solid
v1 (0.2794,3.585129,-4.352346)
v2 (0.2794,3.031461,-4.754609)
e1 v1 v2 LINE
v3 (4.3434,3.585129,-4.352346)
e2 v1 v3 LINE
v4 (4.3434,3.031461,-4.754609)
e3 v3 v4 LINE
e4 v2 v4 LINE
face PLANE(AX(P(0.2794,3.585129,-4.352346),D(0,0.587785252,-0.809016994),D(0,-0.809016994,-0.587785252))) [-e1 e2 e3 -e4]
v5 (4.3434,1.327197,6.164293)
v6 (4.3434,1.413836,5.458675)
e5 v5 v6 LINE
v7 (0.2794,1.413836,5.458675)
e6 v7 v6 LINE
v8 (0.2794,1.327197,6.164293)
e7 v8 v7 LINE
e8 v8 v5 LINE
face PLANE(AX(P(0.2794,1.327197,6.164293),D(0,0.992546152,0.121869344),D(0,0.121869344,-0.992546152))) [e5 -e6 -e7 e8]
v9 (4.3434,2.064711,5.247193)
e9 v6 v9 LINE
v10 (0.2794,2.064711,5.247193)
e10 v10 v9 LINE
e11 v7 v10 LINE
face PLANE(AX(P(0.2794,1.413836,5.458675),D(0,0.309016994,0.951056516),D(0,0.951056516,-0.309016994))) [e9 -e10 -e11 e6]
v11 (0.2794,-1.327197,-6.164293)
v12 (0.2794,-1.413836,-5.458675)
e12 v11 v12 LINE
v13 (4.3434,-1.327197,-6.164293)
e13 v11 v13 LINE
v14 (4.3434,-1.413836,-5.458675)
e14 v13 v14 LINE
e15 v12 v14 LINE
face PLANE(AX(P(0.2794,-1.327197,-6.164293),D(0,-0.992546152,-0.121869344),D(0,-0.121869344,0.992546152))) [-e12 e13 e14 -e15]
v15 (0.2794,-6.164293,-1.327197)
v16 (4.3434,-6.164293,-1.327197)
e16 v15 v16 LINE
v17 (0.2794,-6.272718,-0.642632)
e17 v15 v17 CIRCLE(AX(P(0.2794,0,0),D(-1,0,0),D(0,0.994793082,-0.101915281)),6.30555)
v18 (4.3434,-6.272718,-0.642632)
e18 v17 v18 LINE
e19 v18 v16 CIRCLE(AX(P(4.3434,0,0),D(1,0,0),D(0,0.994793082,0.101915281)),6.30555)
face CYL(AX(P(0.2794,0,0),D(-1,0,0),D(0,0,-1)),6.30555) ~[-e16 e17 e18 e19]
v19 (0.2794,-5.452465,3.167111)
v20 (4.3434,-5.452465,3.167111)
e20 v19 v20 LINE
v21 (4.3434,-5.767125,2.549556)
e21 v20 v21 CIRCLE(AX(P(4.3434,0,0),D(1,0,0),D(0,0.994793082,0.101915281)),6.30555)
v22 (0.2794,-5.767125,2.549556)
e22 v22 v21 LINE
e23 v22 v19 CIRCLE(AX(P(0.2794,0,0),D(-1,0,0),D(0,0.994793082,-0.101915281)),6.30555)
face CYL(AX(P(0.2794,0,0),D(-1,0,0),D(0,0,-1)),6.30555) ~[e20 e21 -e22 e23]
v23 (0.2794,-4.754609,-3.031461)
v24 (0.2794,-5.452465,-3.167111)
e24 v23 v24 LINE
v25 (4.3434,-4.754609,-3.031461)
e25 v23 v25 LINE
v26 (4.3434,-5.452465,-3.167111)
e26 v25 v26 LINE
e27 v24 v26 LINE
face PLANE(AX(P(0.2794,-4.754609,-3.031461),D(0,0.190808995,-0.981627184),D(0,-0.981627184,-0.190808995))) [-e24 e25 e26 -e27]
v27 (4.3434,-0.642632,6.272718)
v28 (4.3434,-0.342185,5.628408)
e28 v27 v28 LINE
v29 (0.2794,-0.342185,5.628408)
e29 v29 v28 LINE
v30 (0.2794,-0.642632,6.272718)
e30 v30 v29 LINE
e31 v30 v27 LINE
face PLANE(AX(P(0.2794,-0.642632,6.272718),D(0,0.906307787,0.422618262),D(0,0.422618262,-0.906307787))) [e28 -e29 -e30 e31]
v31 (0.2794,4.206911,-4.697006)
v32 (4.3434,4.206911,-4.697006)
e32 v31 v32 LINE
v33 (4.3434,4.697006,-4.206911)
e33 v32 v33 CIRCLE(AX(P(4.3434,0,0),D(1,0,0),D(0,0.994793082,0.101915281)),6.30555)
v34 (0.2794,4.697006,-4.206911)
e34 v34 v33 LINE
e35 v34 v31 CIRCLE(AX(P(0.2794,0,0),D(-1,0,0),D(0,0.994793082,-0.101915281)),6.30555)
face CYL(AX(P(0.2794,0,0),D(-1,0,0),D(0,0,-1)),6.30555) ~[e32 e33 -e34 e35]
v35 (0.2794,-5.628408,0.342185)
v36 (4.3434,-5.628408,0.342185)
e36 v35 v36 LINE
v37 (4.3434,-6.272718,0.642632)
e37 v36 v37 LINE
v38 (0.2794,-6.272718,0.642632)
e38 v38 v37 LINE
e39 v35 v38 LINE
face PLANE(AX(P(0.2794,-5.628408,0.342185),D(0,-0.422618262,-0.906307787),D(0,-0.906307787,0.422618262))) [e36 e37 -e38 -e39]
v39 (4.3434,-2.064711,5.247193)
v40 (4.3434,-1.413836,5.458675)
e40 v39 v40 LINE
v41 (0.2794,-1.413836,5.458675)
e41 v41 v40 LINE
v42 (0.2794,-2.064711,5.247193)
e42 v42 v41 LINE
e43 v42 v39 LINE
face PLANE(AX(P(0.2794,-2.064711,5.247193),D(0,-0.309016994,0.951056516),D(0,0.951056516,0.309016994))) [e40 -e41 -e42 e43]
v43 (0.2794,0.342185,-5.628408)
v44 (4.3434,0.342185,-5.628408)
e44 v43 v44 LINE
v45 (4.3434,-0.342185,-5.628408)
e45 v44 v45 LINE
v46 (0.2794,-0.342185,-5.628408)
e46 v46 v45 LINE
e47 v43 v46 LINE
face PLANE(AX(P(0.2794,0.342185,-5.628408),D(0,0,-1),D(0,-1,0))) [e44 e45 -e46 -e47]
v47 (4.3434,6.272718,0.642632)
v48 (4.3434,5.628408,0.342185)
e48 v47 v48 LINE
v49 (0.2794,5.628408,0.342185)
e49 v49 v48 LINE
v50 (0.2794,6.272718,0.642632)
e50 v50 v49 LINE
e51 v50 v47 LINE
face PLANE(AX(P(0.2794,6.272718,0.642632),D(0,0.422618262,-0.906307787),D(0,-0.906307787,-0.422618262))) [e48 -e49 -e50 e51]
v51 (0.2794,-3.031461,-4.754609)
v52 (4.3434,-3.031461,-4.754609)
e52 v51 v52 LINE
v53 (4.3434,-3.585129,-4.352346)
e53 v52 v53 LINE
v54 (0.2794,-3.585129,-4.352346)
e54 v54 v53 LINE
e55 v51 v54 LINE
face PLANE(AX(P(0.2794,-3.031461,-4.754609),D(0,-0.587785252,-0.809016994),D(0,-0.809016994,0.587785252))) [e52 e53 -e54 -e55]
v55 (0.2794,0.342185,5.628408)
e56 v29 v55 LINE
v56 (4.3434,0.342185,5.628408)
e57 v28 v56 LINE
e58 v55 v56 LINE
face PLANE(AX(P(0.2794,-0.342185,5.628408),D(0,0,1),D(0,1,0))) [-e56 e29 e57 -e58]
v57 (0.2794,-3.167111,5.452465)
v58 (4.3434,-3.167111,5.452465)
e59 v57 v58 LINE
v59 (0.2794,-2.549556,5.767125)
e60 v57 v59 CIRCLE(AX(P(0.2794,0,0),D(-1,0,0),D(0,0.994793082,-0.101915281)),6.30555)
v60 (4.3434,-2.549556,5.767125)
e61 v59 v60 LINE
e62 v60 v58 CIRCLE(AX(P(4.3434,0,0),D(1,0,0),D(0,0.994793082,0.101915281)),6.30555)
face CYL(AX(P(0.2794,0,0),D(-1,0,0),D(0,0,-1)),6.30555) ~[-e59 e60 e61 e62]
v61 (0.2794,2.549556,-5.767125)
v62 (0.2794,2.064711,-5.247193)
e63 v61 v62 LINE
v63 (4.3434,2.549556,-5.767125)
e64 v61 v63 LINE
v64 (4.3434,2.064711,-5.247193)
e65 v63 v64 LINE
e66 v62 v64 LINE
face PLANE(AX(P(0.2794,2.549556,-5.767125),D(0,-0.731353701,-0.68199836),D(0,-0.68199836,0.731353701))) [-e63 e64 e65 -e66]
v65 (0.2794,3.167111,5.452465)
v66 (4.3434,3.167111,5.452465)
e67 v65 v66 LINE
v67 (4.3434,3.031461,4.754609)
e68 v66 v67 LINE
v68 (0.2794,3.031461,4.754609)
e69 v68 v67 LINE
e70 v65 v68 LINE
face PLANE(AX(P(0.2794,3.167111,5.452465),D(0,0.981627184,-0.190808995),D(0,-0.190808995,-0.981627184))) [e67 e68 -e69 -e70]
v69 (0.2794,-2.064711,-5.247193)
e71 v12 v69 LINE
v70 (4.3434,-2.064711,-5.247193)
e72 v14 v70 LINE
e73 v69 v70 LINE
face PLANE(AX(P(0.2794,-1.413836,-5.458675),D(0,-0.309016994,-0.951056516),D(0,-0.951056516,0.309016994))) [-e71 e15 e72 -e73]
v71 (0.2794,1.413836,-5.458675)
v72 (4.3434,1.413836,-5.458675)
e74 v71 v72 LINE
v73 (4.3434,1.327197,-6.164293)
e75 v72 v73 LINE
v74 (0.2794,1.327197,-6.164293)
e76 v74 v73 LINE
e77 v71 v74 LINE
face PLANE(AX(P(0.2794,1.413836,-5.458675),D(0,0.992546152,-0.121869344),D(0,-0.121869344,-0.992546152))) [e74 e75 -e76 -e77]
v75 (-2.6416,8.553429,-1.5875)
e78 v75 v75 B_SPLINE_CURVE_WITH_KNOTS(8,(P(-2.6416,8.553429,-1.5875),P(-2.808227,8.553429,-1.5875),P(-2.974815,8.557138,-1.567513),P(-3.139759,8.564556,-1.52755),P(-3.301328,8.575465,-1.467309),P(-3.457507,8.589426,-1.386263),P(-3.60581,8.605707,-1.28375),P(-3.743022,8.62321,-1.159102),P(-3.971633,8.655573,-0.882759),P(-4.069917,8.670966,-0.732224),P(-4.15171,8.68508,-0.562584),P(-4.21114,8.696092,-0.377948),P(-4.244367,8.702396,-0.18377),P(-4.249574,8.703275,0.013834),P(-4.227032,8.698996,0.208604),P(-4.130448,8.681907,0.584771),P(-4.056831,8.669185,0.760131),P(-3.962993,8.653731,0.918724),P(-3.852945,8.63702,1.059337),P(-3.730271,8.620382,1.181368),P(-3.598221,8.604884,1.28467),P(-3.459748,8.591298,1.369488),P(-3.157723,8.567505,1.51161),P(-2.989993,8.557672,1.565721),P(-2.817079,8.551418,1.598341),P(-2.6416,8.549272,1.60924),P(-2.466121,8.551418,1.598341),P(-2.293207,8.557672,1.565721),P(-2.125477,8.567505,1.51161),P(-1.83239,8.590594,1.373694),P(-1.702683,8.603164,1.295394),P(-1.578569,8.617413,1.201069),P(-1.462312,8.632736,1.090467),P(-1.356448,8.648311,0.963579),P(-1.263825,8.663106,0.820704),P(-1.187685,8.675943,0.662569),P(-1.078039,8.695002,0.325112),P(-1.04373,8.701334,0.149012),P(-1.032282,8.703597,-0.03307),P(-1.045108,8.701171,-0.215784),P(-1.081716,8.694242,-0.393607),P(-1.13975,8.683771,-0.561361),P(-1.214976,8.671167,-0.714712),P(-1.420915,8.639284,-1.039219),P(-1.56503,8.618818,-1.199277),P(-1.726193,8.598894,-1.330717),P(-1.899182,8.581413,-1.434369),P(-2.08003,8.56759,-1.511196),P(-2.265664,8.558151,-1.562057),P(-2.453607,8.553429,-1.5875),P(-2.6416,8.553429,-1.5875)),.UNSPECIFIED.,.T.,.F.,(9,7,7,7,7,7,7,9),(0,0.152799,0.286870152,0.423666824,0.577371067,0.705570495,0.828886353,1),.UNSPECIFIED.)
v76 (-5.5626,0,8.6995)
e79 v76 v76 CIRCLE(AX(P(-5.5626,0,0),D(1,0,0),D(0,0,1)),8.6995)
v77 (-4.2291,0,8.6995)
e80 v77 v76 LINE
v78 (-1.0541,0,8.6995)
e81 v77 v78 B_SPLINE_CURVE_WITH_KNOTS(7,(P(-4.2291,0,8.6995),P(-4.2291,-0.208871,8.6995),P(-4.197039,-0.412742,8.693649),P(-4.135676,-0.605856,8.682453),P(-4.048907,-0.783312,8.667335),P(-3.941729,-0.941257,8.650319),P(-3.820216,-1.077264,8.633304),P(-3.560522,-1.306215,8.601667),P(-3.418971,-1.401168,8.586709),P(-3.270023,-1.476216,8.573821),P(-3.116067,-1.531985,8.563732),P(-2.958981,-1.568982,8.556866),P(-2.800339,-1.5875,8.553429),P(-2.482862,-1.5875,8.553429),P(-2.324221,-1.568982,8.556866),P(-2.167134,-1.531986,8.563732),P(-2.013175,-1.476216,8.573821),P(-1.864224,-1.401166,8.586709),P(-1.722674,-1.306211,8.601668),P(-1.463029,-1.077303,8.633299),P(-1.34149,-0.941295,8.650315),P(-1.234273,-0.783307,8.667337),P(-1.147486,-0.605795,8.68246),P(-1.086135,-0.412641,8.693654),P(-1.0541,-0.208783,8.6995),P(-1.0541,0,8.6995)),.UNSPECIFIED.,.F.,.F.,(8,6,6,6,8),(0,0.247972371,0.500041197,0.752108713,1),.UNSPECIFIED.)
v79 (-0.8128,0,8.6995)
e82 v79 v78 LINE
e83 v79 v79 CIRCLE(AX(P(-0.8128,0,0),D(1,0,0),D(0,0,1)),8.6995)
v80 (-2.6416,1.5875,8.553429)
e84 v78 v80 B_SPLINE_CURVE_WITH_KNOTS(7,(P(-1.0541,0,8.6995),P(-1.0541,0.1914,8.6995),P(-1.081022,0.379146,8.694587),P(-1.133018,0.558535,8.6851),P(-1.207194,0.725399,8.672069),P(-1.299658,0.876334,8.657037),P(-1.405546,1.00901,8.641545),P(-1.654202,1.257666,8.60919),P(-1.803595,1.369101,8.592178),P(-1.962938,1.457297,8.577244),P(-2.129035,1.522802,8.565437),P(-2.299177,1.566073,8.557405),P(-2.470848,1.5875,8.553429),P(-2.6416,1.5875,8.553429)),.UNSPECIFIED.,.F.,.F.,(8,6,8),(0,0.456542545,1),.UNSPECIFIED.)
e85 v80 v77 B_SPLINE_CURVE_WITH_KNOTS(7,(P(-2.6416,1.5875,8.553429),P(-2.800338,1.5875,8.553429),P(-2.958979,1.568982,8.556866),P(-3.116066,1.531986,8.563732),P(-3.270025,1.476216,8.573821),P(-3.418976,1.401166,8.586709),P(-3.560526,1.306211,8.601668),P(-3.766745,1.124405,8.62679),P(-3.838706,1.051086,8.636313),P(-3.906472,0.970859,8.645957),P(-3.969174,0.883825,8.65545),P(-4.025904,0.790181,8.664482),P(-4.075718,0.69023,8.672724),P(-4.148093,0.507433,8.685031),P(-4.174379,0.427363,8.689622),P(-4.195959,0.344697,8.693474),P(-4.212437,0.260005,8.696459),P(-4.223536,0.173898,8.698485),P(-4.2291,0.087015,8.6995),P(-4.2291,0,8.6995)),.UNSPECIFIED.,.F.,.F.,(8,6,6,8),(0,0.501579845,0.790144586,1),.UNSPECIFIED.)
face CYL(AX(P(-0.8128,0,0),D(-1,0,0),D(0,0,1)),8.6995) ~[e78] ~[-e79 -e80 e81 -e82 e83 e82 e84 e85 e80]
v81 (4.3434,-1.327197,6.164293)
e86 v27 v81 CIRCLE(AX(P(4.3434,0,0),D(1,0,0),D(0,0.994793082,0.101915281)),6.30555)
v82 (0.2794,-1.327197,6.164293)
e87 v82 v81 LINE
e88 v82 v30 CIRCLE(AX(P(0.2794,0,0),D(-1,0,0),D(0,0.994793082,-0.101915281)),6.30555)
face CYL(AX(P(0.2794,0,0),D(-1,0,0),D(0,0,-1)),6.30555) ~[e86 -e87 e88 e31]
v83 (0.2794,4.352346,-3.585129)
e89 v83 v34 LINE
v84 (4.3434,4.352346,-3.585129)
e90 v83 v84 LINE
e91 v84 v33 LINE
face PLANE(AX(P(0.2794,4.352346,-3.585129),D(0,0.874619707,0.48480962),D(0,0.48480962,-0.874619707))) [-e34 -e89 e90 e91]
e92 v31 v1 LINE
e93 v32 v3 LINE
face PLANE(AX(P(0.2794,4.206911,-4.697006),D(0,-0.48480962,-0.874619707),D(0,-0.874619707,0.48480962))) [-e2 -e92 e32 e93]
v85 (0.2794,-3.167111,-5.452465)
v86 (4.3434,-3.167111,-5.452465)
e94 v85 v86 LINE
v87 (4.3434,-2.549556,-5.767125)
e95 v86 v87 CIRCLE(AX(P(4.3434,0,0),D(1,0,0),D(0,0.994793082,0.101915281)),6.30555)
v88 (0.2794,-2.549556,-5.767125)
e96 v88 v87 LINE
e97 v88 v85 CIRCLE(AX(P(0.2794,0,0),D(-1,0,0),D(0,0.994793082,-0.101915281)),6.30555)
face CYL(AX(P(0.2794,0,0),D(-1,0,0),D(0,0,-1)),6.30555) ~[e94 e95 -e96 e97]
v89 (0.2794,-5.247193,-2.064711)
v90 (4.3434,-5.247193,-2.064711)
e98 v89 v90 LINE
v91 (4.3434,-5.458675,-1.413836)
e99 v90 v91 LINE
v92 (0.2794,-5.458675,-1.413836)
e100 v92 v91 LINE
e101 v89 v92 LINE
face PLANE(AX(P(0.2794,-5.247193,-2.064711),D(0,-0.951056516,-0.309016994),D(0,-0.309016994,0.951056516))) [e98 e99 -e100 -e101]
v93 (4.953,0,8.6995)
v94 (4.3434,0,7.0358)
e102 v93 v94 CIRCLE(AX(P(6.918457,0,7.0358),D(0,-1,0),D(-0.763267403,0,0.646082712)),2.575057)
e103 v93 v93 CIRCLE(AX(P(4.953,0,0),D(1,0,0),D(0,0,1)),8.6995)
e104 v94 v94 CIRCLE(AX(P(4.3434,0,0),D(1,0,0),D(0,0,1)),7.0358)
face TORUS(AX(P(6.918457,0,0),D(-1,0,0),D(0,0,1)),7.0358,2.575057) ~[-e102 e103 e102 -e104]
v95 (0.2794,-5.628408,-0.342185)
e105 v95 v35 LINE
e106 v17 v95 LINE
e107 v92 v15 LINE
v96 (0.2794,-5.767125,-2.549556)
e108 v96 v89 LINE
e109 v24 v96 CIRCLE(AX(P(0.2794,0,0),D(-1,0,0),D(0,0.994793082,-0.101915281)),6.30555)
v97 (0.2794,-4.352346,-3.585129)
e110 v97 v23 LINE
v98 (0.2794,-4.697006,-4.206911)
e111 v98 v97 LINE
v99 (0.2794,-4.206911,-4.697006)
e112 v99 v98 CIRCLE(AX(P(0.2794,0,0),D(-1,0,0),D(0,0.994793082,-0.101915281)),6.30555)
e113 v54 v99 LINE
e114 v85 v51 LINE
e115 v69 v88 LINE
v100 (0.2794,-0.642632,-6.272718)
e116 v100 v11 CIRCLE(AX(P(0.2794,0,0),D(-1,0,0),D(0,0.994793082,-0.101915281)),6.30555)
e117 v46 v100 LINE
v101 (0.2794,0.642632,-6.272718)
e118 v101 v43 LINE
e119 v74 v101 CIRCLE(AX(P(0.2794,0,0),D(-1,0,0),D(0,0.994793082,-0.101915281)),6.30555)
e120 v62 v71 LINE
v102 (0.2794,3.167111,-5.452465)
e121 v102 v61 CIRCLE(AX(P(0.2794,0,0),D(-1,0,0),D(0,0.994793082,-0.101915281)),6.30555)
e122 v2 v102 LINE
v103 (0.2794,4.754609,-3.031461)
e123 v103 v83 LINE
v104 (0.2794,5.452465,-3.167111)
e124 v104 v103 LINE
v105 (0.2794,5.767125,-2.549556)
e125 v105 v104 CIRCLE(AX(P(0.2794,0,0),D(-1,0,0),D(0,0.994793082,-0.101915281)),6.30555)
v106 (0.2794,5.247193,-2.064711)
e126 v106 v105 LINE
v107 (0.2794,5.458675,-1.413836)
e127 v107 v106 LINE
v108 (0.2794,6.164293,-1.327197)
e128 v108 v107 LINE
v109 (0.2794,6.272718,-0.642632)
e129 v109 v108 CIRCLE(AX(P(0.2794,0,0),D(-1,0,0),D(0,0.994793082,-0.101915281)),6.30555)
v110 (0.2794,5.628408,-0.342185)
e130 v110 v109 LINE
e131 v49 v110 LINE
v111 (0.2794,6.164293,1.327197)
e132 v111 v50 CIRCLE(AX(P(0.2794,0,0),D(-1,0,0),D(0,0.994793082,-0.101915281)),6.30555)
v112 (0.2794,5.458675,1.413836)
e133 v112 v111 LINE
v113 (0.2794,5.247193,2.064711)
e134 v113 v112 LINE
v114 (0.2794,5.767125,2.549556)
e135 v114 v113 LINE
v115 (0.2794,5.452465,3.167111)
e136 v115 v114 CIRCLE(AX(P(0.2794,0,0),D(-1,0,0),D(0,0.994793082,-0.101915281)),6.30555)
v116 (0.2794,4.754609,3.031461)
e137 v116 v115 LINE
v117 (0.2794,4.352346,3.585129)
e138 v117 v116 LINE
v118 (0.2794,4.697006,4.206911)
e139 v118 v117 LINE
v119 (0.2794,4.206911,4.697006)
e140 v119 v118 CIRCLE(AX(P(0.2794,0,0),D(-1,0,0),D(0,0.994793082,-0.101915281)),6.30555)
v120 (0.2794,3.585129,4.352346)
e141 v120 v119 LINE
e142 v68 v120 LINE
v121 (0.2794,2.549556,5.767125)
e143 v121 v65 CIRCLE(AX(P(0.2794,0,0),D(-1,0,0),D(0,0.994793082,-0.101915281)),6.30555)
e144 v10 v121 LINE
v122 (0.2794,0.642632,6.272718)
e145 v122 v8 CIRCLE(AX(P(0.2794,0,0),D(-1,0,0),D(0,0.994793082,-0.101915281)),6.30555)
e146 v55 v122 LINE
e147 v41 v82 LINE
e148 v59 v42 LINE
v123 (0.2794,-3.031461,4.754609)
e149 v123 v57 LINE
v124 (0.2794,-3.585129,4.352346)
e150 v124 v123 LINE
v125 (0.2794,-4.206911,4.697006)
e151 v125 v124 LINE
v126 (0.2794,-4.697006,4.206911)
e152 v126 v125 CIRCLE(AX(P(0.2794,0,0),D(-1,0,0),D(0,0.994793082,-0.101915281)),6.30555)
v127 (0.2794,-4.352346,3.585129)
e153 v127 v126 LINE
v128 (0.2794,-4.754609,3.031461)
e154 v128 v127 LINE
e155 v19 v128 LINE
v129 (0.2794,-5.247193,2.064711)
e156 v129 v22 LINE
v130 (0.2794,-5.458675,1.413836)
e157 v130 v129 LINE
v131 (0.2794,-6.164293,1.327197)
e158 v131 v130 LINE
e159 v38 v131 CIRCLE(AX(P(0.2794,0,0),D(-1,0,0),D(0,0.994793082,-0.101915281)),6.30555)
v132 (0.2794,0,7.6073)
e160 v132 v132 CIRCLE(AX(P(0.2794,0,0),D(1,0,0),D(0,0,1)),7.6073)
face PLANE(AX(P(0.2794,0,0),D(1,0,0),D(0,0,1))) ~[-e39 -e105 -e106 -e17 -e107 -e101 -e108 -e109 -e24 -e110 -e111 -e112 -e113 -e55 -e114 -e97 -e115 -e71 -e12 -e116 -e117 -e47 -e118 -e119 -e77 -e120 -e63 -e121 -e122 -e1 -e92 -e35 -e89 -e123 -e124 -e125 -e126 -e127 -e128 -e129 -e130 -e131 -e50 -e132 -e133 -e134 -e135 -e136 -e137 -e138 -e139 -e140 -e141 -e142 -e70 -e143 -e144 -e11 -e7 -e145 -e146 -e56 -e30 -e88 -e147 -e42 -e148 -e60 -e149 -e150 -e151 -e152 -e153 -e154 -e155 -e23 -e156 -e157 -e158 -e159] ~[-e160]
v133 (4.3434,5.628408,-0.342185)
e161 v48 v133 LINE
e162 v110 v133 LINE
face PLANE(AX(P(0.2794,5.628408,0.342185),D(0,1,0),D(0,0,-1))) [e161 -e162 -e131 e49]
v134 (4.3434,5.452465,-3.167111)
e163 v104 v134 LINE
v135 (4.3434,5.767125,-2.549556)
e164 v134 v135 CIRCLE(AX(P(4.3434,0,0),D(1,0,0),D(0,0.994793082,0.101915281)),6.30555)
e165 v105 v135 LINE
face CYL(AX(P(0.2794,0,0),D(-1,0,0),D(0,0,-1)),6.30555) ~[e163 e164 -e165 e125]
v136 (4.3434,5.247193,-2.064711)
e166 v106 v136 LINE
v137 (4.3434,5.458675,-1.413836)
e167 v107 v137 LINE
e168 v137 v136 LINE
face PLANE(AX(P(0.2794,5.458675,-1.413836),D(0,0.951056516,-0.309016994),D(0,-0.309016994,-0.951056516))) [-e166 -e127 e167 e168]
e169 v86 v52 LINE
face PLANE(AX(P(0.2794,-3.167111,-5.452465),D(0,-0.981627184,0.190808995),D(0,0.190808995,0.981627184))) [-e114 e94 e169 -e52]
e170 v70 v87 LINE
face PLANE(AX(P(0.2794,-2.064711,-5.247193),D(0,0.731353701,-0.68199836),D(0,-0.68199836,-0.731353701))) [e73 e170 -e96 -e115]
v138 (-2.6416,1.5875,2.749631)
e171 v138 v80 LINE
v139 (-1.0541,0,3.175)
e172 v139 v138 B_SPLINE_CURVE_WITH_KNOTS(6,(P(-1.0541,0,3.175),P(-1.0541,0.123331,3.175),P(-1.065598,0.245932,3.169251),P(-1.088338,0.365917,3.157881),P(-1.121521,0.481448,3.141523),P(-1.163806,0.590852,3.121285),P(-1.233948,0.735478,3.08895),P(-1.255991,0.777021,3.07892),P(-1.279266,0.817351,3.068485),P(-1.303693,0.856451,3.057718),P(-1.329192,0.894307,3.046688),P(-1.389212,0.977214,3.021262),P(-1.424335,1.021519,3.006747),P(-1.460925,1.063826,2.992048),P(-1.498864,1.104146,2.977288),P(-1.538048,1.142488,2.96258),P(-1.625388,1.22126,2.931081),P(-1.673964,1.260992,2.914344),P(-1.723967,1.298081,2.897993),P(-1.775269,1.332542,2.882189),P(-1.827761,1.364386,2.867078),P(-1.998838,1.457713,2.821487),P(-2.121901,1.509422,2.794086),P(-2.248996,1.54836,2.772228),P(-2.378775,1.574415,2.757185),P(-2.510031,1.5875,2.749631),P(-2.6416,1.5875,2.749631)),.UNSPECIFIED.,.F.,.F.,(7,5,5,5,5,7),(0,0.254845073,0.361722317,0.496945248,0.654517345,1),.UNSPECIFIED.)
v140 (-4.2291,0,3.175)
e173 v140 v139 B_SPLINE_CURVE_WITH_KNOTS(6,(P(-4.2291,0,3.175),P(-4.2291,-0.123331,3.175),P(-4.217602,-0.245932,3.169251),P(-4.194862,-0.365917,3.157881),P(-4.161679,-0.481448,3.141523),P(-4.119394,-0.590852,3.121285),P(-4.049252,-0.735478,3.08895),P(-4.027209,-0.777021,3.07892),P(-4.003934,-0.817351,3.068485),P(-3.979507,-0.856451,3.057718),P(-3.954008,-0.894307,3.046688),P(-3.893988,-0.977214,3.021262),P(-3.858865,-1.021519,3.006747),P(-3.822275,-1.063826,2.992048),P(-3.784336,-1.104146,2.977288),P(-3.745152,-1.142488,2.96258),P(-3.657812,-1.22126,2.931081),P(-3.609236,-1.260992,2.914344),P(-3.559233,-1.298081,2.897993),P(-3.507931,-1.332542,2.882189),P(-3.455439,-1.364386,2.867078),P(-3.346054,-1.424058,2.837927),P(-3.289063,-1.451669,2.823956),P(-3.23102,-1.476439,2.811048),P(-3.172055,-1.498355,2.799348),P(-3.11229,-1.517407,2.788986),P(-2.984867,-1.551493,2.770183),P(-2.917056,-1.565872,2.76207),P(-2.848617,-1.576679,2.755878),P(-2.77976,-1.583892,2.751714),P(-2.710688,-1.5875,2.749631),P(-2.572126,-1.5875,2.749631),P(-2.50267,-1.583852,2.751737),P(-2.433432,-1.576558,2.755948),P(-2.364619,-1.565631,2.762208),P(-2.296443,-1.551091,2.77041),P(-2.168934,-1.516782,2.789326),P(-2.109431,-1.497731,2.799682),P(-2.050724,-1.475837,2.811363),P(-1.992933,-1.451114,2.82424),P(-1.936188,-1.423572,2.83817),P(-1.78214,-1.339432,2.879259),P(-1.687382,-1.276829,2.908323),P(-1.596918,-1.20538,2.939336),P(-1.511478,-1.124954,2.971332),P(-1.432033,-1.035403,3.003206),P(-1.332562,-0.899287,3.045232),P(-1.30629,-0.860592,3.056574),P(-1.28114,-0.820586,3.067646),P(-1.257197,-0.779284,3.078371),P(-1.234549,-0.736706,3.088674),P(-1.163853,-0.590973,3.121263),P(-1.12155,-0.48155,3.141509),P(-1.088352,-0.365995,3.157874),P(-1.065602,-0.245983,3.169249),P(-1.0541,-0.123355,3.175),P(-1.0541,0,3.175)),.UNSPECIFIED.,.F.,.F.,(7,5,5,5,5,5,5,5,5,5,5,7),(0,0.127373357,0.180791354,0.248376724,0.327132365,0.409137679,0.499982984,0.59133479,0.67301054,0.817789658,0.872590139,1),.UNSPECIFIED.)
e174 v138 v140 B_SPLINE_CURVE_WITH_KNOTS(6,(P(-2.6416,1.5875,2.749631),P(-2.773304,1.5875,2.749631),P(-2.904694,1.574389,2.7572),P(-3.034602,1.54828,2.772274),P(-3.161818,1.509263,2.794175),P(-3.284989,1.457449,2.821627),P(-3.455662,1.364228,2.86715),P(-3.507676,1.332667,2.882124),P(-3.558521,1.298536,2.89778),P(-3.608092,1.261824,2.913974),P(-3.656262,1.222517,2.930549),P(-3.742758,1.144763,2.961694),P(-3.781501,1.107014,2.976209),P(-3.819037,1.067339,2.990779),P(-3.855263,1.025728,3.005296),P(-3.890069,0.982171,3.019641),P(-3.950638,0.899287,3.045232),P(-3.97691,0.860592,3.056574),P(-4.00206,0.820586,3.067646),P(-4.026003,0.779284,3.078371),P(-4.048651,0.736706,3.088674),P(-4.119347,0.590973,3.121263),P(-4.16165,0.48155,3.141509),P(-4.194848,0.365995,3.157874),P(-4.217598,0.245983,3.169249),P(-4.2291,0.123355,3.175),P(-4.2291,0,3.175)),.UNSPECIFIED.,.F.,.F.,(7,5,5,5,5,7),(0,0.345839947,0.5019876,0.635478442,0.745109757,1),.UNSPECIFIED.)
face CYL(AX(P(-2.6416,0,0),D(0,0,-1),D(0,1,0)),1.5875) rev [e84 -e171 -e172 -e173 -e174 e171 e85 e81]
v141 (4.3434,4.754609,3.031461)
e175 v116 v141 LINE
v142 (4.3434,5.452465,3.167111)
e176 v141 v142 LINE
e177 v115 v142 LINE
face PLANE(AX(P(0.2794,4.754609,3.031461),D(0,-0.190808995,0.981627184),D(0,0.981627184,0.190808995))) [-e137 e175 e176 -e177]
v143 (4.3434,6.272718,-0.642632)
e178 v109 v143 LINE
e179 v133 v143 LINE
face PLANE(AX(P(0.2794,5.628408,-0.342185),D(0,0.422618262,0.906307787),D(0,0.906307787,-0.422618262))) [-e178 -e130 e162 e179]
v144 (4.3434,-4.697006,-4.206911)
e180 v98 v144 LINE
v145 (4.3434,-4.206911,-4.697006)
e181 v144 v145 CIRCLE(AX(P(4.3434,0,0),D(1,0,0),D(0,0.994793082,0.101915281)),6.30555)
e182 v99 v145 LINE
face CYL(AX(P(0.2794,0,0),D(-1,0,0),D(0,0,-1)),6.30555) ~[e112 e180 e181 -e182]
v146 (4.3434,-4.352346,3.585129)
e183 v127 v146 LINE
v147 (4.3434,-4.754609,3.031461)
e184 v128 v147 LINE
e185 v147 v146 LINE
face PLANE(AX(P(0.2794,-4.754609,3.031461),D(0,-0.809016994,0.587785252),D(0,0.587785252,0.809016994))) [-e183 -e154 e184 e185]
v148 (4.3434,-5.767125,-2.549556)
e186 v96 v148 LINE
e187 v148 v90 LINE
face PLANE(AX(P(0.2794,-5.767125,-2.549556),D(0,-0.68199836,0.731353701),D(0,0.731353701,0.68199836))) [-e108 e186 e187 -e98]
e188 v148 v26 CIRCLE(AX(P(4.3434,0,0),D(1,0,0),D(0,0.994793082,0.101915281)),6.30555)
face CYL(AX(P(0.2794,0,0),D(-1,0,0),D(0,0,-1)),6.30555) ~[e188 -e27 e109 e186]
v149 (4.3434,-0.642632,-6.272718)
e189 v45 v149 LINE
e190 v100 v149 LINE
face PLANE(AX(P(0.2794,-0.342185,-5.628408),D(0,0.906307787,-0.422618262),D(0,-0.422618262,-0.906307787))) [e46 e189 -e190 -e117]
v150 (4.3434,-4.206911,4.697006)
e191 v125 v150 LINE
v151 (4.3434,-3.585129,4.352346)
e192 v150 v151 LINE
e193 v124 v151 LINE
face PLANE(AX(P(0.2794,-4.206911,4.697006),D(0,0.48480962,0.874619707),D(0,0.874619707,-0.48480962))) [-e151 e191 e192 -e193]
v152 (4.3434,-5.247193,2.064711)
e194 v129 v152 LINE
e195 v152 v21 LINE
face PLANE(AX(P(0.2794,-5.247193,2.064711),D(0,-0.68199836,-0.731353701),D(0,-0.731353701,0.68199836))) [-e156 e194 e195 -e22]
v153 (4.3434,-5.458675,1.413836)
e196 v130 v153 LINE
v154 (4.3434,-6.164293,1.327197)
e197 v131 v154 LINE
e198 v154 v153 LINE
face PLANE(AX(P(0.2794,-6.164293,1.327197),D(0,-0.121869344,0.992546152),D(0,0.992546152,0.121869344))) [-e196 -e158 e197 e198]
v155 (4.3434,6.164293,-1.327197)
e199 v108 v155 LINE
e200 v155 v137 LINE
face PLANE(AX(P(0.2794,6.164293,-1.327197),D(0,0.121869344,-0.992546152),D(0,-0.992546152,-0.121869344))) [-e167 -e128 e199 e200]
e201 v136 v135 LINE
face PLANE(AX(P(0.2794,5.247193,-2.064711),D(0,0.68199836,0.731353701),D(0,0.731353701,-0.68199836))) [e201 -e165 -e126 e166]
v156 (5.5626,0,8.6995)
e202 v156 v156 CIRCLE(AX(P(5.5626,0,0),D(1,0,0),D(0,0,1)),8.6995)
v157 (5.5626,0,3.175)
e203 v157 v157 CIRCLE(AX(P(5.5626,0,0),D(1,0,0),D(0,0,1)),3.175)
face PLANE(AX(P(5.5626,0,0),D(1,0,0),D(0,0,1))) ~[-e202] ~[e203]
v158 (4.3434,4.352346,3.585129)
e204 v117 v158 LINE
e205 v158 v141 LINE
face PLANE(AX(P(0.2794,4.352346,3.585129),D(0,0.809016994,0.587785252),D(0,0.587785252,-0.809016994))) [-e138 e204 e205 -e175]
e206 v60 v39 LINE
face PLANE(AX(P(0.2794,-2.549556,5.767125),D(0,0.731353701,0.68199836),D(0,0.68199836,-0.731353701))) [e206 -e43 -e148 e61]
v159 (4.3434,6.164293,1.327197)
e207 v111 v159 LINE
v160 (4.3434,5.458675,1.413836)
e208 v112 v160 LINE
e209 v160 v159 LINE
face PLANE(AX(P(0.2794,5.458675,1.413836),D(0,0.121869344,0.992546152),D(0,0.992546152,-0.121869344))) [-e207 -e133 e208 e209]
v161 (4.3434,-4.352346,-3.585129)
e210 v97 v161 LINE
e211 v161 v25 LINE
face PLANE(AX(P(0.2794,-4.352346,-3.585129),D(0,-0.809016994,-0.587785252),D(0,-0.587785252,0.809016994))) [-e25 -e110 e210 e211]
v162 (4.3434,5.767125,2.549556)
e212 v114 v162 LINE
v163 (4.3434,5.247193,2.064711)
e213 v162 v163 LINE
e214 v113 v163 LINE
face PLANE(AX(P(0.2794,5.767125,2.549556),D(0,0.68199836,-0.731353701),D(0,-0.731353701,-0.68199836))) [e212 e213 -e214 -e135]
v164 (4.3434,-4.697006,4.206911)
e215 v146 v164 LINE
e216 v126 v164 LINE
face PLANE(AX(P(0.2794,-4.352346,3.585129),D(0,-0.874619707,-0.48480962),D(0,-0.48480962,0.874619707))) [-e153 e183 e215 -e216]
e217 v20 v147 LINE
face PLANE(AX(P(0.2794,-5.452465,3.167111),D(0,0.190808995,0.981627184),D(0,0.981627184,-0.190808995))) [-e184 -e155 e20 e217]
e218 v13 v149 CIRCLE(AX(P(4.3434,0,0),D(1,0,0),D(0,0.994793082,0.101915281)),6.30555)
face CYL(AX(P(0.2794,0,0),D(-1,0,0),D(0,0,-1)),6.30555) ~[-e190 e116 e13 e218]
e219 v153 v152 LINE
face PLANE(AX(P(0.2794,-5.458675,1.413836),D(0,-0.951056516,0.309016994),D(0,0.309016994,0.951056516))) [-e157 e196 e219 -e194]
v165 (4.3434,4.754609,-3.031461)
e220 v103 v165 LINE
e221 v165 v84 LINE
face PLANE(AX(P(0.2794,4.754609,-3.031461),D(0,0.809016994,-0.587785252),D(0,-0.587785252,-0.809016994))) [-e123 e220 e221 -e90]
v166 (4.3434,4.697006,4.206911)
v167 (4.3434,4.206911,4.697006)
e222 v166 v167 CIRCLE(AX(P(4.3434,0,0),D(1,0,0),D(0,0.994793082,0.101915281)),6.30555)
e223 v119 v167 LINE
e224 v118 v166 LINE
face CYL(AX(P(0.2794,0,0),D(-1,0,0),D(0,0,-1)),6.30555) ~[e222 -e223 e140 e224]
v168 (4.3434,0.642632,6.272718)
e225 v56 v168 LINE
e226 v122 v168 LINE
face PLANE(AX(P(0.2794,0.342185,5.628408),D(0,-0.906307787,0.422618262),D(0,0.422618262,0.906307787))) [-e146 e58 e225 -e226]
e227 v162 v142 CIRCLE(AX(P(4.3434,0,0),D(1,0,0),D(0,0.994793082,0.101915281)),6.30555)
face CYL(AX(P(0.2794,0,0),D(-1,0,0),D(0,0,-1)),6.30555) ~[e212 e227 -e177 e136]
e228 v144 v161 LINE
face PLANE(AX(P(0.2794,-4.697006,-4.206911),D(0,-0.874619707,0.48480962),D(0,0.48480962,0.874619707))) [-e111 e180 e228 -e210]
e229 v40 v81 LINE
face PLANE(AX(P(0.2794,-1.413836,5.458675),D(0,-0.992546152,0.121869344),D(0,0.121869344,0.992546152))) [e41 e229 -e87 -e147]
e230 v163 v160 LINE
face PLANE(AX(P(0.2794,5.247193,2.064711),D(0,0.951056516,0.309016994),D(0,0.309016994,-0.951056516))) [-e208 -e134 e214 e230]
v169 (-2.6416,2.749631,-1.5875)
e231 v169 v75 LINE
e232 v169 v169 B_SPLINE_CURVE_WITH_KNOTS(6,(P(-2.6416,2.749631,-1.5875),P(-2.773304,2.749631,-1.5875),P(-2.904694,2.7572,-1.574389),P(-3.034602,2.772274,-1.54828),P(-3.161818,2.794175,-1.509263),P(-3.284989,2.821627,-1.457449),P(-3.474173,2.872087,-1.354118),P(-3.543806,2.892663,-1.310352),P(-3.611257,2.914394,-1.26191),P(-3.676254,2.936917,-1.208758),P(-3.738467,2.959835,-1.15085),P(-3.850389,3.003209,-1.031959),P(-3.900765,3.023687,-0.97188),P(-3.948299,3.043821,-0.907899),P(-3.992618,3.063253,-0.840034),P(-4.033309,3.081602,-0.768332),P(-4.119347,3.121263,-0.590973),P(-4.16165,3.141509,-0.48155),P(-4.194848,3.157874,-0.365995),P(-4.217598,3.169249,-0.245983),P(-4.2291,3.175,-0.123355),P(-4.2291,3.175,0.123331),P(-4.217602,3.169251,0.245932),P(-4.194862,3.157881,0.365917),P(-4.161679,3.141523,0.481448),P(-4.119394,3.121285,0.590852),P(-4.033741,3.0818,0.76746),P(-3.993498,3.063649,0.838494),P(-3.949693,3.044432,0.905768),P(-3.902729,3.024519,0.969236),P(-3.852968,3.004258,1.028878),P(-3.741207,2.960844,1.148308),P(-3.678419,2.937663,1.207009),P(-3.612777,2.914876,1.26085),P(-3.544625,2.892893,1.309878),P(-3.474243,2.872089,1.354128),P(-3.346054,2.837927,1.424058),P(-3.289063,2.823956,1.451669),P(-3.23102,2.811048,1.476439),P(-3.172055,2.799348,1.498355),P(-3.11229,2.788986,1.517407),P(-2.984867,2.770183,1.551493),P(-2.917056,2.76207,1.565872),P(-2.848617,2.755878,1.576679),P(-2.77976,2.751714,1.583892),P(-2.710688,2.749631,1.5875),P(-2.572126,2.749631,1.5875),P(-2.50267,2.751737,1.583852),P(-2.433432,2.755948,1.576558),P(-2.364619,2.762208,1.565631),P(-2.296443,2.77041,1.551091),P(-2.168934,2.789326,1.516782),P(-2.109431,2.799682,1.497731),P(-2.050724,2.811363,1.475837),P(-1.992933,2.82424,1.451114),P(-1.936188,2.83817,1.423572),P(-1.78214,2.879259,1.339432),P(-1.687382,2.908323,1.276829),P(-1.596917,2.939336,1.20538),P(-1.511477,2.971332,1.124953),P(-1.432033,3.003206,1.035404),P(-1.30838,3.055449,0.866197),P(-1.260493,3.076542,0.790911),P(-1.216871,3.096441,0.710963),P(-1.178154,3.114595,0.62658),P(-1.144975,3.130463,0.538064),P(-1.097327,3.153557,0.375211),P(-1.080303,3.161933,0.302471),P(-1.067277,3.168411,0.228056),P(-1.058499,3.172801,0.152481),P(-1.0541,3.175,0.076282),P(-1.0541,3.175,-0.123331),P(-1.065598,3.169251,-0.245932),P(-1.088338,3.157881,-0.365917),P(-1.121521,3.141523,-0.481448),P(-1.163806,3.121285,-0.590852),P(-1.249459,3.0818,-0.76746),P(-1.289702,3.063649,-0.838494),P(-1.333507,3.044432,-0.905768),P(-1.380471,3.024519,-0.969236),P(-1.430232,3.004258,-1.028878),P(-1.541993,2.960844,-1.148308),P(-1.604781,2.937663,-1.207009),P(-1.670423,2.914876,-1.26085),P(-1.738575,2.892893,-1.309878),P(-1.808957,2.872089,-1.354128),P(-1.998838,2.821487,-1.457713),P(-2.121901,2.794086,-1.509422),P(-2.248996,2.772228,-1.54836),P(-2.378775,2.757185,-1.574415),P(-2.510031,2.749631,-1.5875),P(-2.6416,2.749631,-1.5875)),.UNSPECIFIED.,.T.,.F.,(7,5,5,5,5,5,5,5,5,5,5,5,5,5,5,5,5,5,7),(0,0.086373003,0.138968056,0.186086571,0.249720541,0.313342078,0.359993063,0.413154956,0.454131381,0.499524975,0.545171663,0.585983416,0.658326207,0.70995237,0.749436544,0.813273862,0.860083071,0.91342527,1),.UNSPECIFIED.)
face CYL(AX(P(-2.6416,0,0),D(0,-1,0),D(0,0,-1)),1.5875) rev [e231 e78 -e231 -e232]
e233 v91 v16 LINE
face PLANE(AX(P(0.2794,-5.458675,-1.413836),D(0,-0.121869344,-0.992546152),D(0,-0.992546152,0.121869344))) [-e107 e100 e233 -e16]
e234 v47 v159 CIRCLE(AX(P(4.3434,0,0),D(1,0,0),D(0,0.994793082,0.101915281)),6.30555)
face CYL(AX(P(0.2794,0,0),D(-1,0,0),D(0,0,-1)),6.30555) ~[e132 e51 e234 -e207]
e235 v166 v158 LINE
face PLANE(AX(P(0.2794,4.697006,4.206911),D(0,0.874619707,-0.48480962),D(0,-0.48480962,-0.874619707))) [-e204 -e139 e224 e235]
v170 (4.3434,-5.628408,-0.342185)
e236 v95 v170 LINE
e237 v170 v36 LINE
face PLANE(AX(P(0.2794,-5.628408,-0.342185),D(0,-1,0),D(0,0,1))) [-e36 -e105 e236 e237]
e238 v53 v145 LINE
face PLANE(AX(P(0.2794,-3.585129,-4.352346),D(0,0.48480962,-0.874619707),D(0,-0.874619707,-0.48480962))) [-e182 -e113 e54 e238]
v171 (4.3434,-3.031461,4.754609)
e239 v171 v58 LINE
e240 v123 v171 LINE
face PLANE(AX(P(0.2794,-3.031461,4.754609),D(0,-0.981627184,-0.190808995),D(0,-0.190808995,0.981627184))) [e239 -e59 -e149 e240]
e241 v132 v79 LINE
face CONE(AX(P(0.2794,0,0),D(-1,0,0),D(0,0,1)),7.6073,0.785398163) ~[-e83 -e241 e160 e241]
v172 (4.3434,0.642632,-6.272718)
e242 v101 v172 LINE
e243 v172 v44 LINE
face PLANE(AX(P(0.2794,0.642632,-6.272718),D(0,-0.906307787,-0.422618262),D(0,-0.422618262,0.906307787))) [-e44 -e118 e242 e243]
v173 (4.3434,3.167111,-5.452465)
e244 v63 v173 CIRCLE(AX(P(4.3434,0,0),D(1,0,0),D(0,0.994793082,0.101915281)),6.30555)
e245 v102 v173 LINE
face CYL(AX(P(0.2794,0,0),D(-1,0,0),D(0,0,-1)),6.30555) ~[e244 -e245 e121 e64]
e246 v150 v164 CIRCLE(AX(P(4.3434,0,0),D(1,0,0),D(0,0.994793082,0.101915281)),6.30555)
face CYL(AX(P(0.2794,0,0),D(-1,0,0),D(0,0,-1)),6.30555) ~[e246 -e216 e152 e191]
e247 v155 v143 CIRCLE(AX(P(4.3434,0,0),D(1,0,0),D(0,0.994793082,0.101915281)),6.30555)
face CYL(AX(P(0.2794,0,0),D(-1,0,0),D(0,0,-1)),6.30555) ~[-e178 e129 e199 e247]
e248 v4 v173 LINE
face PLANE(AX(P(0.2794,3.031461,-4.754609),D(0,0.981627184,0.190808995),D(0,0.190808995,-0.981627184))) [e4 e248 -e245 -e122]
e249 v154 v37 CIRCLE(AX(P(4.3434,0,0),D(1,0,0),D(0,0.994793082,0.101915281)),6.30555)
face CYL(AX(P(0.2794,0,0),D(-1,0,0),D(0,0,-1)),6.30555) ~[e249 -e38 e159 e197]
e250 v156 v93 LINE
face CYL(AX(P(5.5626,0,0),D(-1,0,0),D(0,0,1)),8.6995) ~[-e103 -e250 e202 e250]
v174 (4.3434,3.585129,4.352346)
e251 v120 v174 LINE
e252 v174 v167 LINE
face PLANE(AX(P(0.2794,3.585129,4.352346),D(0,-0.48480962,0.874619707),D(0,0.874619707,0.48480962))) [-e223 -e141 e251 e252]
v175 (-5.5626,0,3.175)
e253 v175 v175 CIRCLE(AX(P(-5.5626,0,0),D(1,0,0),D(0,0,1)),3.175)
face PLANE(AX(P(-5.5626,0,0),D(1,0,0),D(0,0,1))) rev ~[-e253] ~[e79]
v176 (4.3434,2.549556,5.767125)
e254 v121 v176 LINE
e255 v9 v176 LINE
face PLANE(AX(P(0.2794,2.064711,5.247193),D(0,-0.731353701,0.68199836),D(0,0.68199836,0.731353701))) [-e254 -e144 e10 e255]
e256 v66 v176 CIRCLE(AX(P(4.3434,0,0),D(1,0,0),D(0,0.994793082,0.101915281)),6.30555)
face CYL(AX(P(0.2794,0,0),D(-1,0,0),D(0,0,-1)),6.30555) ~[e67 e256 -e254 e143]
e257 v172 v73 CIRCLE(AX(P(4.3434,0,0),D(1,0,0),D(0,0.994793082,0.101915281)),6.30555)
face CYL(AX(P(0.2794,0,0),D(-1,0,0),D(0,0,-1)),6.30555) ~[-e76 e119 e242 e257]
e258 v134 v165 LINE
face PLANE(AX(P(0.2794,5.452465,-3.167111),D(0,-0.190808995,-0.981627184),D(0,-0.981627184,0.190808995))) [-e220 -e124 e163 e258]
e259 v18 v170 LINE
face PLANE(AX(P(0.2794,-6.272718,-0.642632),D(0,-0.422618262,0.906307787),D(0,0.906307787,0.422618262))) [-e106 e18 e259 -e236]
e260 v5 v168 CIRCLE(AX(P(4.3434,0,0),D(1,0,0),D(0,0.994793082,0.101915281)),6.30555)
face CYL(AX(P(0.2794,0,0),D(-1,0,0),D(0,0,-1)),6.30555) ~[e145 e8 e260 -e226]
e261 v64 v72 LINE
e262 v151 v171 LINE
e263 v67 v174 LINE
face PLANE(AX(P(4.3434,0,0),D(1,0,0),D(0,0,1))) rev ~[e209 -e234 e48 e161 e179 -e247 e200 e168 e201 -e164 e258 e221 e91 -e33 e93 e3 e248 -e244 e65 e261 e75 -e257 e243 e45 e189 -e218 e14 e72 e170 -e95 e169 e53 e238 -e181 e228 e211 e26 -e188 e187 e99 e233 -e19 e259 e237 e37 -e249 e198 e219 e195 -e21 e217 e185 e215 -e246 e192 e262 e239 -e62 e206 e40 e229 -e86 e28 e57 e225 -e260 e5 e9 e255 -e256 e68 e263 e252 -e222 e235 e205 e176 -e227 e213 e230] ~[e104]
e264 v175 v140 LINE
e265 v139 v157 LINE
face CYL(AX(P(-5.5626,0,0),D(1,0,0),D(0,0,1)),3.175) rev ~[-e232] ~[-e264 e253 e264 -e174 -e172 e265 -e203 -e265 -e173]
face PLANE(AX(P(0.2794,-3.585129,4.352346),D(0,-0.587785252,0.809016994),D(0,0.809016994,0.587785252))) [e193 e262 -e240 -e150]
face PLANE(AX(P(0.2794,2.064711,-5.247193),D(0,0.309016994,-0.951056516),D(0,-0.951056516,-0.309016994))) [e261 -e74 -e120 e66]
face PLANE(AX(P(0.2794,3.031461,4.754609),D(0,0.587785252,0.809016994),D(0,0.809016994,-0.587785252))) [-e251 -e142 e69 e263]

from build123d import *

# Parameters (mm, degrees)
SKETCH4_R          = 6.4643
SKETCH4_R_2        = 6.30555
CUT_EXTRUDE2_DEPTH = 4.064
CUT_EXTRUDE1_DEPTH = 4.064
CIRPATTERN1_COUNT  = 20
SKETCH6_R          = 1.5875
CUT_EXTRUDE3_DEPTH = 14.5020413
CIRPATTERN2_COUNT  = 2
CIRPATTERN2_ANGLE  = 90


with BuildPart() as part:
    # Sketch1 → Revolve1 (revolve)
    with BuildSketch(Plane.XY, mode=Mode.PRIVATE) as revolve1_sk:
        with BuildLine():
            Line((-5.5626, 3.175), (5.5626, 3.175))
            Line((5.5626, 3.175), (5.5626, 8.6995))
            Line((5.5626, 8.6995), (4.953, 8.6995))
            ThreePointArc((4.953, 8.6995), (4.500598199, 7.921733103), (4.3434, 7.0358))
            Line((4.3434, 7.0358), (4.3434, 6.4643))
            Line((4.3434, 6.4643), (0.2794, 6.4643))
            Line((0.2794, 6.4643), (0.2794, 7.6073))
            Line((0.2794, 7.6073), (-0.8128, 8.6995))
            Line((-0.8128, 8.6995), (-5.5626, 8.6995))
            Line((-5.5626, 8.6995), (-5.5626, 3.175))
        make_face()
    revolve(revolve1_sk.sketch.rotate(Axis((-5.5626, 0, 0), (1, 0, 0)), 90), axis=Axis((-5.5626, 0, 0), (1, 0, 0)))

    # Sketch4 → Cut-Extrude2 (cut)
    with BuildSketch(Plane(origin=(0.2794, 0, 0), x_dir=(0, 0, -1), z_dir=(1, 0, 0))):
        Circle(SKETCH4_R)
        Circle(SKETCH4_R_2, mode=Mode.SUBTRACT)
    extrude(amount=CUT_EXTRUDE2_DEPTH, mode=Mode.SUBTRACT)

    # Sketch3 → Cut-Extrude1 (cut)
    with BuildSketch(Plane(origin=(0.2794, 0, 0), x_dir=(0, 0, -1), z_dir=(1, 0, 0))):
        with BuildLine():
            Line((-0.642631898, 6.272717517), (-0.342185353, 5.628407823))
            Line((-0.342185353, 5.628407823), (0.342185353, 5.628407823))
            Line((0.342185353, 5.628407823), (0.642631898, 6.272717517))
            ThreePointArc((0.642631898, 6.272717517), (0, 6.30555), (-0.642631898, 6.272717517))
        make_face()
    cut_extrude1 = extrude(amount=CUT_EXTRUDE1_DEPTH, mode=Mode.SUBTRACT)

    # CirPattern1: Cut-Extrude1 ×20 about axis
    cirpattern1_axis = Axis((0, 0, 0), (1, 0, 0))
    for i in range(1, CIRPATTERN1_COUNT):
        add(cut_extrude1.rotate(cirpattern1_axis, i * 360 / CIRPATTERN1_COUNT), mode=Mode.SUBTRACT)

    # Sketch6 → Cut-Extrude3 (cut, through all)
    with BuildSketch(Plane(origin=(0, 0, 0), x_dir=(1, 0, 0), z_dir=(0, 1, 0))):
        with Locations(Location((-2.6416, 0, 0), (0, 0, 90))):
            Circle(SKETCH6_R)
    cut_extrude3 = extrude(amount=CUT_EXTRUDE3_DEPTH, mode=Mode.SUBTRACT)

    # CirPattern2: Cut-Extrude3 ×2 about axis
    cirpattern2_axis = Axis((-5.5626, 0, 0), (1, 0, 0))
    for i in range(1, CIRPATTERN2_COUNT):
        add(cut_extrude3.rotate(cirpattern2_axis, i * CIRPATTERN2_ANGLE / (CIRPATTERN2_COUNT - 1)), mode=Mode.SUBTRACT)


solid = part.part
